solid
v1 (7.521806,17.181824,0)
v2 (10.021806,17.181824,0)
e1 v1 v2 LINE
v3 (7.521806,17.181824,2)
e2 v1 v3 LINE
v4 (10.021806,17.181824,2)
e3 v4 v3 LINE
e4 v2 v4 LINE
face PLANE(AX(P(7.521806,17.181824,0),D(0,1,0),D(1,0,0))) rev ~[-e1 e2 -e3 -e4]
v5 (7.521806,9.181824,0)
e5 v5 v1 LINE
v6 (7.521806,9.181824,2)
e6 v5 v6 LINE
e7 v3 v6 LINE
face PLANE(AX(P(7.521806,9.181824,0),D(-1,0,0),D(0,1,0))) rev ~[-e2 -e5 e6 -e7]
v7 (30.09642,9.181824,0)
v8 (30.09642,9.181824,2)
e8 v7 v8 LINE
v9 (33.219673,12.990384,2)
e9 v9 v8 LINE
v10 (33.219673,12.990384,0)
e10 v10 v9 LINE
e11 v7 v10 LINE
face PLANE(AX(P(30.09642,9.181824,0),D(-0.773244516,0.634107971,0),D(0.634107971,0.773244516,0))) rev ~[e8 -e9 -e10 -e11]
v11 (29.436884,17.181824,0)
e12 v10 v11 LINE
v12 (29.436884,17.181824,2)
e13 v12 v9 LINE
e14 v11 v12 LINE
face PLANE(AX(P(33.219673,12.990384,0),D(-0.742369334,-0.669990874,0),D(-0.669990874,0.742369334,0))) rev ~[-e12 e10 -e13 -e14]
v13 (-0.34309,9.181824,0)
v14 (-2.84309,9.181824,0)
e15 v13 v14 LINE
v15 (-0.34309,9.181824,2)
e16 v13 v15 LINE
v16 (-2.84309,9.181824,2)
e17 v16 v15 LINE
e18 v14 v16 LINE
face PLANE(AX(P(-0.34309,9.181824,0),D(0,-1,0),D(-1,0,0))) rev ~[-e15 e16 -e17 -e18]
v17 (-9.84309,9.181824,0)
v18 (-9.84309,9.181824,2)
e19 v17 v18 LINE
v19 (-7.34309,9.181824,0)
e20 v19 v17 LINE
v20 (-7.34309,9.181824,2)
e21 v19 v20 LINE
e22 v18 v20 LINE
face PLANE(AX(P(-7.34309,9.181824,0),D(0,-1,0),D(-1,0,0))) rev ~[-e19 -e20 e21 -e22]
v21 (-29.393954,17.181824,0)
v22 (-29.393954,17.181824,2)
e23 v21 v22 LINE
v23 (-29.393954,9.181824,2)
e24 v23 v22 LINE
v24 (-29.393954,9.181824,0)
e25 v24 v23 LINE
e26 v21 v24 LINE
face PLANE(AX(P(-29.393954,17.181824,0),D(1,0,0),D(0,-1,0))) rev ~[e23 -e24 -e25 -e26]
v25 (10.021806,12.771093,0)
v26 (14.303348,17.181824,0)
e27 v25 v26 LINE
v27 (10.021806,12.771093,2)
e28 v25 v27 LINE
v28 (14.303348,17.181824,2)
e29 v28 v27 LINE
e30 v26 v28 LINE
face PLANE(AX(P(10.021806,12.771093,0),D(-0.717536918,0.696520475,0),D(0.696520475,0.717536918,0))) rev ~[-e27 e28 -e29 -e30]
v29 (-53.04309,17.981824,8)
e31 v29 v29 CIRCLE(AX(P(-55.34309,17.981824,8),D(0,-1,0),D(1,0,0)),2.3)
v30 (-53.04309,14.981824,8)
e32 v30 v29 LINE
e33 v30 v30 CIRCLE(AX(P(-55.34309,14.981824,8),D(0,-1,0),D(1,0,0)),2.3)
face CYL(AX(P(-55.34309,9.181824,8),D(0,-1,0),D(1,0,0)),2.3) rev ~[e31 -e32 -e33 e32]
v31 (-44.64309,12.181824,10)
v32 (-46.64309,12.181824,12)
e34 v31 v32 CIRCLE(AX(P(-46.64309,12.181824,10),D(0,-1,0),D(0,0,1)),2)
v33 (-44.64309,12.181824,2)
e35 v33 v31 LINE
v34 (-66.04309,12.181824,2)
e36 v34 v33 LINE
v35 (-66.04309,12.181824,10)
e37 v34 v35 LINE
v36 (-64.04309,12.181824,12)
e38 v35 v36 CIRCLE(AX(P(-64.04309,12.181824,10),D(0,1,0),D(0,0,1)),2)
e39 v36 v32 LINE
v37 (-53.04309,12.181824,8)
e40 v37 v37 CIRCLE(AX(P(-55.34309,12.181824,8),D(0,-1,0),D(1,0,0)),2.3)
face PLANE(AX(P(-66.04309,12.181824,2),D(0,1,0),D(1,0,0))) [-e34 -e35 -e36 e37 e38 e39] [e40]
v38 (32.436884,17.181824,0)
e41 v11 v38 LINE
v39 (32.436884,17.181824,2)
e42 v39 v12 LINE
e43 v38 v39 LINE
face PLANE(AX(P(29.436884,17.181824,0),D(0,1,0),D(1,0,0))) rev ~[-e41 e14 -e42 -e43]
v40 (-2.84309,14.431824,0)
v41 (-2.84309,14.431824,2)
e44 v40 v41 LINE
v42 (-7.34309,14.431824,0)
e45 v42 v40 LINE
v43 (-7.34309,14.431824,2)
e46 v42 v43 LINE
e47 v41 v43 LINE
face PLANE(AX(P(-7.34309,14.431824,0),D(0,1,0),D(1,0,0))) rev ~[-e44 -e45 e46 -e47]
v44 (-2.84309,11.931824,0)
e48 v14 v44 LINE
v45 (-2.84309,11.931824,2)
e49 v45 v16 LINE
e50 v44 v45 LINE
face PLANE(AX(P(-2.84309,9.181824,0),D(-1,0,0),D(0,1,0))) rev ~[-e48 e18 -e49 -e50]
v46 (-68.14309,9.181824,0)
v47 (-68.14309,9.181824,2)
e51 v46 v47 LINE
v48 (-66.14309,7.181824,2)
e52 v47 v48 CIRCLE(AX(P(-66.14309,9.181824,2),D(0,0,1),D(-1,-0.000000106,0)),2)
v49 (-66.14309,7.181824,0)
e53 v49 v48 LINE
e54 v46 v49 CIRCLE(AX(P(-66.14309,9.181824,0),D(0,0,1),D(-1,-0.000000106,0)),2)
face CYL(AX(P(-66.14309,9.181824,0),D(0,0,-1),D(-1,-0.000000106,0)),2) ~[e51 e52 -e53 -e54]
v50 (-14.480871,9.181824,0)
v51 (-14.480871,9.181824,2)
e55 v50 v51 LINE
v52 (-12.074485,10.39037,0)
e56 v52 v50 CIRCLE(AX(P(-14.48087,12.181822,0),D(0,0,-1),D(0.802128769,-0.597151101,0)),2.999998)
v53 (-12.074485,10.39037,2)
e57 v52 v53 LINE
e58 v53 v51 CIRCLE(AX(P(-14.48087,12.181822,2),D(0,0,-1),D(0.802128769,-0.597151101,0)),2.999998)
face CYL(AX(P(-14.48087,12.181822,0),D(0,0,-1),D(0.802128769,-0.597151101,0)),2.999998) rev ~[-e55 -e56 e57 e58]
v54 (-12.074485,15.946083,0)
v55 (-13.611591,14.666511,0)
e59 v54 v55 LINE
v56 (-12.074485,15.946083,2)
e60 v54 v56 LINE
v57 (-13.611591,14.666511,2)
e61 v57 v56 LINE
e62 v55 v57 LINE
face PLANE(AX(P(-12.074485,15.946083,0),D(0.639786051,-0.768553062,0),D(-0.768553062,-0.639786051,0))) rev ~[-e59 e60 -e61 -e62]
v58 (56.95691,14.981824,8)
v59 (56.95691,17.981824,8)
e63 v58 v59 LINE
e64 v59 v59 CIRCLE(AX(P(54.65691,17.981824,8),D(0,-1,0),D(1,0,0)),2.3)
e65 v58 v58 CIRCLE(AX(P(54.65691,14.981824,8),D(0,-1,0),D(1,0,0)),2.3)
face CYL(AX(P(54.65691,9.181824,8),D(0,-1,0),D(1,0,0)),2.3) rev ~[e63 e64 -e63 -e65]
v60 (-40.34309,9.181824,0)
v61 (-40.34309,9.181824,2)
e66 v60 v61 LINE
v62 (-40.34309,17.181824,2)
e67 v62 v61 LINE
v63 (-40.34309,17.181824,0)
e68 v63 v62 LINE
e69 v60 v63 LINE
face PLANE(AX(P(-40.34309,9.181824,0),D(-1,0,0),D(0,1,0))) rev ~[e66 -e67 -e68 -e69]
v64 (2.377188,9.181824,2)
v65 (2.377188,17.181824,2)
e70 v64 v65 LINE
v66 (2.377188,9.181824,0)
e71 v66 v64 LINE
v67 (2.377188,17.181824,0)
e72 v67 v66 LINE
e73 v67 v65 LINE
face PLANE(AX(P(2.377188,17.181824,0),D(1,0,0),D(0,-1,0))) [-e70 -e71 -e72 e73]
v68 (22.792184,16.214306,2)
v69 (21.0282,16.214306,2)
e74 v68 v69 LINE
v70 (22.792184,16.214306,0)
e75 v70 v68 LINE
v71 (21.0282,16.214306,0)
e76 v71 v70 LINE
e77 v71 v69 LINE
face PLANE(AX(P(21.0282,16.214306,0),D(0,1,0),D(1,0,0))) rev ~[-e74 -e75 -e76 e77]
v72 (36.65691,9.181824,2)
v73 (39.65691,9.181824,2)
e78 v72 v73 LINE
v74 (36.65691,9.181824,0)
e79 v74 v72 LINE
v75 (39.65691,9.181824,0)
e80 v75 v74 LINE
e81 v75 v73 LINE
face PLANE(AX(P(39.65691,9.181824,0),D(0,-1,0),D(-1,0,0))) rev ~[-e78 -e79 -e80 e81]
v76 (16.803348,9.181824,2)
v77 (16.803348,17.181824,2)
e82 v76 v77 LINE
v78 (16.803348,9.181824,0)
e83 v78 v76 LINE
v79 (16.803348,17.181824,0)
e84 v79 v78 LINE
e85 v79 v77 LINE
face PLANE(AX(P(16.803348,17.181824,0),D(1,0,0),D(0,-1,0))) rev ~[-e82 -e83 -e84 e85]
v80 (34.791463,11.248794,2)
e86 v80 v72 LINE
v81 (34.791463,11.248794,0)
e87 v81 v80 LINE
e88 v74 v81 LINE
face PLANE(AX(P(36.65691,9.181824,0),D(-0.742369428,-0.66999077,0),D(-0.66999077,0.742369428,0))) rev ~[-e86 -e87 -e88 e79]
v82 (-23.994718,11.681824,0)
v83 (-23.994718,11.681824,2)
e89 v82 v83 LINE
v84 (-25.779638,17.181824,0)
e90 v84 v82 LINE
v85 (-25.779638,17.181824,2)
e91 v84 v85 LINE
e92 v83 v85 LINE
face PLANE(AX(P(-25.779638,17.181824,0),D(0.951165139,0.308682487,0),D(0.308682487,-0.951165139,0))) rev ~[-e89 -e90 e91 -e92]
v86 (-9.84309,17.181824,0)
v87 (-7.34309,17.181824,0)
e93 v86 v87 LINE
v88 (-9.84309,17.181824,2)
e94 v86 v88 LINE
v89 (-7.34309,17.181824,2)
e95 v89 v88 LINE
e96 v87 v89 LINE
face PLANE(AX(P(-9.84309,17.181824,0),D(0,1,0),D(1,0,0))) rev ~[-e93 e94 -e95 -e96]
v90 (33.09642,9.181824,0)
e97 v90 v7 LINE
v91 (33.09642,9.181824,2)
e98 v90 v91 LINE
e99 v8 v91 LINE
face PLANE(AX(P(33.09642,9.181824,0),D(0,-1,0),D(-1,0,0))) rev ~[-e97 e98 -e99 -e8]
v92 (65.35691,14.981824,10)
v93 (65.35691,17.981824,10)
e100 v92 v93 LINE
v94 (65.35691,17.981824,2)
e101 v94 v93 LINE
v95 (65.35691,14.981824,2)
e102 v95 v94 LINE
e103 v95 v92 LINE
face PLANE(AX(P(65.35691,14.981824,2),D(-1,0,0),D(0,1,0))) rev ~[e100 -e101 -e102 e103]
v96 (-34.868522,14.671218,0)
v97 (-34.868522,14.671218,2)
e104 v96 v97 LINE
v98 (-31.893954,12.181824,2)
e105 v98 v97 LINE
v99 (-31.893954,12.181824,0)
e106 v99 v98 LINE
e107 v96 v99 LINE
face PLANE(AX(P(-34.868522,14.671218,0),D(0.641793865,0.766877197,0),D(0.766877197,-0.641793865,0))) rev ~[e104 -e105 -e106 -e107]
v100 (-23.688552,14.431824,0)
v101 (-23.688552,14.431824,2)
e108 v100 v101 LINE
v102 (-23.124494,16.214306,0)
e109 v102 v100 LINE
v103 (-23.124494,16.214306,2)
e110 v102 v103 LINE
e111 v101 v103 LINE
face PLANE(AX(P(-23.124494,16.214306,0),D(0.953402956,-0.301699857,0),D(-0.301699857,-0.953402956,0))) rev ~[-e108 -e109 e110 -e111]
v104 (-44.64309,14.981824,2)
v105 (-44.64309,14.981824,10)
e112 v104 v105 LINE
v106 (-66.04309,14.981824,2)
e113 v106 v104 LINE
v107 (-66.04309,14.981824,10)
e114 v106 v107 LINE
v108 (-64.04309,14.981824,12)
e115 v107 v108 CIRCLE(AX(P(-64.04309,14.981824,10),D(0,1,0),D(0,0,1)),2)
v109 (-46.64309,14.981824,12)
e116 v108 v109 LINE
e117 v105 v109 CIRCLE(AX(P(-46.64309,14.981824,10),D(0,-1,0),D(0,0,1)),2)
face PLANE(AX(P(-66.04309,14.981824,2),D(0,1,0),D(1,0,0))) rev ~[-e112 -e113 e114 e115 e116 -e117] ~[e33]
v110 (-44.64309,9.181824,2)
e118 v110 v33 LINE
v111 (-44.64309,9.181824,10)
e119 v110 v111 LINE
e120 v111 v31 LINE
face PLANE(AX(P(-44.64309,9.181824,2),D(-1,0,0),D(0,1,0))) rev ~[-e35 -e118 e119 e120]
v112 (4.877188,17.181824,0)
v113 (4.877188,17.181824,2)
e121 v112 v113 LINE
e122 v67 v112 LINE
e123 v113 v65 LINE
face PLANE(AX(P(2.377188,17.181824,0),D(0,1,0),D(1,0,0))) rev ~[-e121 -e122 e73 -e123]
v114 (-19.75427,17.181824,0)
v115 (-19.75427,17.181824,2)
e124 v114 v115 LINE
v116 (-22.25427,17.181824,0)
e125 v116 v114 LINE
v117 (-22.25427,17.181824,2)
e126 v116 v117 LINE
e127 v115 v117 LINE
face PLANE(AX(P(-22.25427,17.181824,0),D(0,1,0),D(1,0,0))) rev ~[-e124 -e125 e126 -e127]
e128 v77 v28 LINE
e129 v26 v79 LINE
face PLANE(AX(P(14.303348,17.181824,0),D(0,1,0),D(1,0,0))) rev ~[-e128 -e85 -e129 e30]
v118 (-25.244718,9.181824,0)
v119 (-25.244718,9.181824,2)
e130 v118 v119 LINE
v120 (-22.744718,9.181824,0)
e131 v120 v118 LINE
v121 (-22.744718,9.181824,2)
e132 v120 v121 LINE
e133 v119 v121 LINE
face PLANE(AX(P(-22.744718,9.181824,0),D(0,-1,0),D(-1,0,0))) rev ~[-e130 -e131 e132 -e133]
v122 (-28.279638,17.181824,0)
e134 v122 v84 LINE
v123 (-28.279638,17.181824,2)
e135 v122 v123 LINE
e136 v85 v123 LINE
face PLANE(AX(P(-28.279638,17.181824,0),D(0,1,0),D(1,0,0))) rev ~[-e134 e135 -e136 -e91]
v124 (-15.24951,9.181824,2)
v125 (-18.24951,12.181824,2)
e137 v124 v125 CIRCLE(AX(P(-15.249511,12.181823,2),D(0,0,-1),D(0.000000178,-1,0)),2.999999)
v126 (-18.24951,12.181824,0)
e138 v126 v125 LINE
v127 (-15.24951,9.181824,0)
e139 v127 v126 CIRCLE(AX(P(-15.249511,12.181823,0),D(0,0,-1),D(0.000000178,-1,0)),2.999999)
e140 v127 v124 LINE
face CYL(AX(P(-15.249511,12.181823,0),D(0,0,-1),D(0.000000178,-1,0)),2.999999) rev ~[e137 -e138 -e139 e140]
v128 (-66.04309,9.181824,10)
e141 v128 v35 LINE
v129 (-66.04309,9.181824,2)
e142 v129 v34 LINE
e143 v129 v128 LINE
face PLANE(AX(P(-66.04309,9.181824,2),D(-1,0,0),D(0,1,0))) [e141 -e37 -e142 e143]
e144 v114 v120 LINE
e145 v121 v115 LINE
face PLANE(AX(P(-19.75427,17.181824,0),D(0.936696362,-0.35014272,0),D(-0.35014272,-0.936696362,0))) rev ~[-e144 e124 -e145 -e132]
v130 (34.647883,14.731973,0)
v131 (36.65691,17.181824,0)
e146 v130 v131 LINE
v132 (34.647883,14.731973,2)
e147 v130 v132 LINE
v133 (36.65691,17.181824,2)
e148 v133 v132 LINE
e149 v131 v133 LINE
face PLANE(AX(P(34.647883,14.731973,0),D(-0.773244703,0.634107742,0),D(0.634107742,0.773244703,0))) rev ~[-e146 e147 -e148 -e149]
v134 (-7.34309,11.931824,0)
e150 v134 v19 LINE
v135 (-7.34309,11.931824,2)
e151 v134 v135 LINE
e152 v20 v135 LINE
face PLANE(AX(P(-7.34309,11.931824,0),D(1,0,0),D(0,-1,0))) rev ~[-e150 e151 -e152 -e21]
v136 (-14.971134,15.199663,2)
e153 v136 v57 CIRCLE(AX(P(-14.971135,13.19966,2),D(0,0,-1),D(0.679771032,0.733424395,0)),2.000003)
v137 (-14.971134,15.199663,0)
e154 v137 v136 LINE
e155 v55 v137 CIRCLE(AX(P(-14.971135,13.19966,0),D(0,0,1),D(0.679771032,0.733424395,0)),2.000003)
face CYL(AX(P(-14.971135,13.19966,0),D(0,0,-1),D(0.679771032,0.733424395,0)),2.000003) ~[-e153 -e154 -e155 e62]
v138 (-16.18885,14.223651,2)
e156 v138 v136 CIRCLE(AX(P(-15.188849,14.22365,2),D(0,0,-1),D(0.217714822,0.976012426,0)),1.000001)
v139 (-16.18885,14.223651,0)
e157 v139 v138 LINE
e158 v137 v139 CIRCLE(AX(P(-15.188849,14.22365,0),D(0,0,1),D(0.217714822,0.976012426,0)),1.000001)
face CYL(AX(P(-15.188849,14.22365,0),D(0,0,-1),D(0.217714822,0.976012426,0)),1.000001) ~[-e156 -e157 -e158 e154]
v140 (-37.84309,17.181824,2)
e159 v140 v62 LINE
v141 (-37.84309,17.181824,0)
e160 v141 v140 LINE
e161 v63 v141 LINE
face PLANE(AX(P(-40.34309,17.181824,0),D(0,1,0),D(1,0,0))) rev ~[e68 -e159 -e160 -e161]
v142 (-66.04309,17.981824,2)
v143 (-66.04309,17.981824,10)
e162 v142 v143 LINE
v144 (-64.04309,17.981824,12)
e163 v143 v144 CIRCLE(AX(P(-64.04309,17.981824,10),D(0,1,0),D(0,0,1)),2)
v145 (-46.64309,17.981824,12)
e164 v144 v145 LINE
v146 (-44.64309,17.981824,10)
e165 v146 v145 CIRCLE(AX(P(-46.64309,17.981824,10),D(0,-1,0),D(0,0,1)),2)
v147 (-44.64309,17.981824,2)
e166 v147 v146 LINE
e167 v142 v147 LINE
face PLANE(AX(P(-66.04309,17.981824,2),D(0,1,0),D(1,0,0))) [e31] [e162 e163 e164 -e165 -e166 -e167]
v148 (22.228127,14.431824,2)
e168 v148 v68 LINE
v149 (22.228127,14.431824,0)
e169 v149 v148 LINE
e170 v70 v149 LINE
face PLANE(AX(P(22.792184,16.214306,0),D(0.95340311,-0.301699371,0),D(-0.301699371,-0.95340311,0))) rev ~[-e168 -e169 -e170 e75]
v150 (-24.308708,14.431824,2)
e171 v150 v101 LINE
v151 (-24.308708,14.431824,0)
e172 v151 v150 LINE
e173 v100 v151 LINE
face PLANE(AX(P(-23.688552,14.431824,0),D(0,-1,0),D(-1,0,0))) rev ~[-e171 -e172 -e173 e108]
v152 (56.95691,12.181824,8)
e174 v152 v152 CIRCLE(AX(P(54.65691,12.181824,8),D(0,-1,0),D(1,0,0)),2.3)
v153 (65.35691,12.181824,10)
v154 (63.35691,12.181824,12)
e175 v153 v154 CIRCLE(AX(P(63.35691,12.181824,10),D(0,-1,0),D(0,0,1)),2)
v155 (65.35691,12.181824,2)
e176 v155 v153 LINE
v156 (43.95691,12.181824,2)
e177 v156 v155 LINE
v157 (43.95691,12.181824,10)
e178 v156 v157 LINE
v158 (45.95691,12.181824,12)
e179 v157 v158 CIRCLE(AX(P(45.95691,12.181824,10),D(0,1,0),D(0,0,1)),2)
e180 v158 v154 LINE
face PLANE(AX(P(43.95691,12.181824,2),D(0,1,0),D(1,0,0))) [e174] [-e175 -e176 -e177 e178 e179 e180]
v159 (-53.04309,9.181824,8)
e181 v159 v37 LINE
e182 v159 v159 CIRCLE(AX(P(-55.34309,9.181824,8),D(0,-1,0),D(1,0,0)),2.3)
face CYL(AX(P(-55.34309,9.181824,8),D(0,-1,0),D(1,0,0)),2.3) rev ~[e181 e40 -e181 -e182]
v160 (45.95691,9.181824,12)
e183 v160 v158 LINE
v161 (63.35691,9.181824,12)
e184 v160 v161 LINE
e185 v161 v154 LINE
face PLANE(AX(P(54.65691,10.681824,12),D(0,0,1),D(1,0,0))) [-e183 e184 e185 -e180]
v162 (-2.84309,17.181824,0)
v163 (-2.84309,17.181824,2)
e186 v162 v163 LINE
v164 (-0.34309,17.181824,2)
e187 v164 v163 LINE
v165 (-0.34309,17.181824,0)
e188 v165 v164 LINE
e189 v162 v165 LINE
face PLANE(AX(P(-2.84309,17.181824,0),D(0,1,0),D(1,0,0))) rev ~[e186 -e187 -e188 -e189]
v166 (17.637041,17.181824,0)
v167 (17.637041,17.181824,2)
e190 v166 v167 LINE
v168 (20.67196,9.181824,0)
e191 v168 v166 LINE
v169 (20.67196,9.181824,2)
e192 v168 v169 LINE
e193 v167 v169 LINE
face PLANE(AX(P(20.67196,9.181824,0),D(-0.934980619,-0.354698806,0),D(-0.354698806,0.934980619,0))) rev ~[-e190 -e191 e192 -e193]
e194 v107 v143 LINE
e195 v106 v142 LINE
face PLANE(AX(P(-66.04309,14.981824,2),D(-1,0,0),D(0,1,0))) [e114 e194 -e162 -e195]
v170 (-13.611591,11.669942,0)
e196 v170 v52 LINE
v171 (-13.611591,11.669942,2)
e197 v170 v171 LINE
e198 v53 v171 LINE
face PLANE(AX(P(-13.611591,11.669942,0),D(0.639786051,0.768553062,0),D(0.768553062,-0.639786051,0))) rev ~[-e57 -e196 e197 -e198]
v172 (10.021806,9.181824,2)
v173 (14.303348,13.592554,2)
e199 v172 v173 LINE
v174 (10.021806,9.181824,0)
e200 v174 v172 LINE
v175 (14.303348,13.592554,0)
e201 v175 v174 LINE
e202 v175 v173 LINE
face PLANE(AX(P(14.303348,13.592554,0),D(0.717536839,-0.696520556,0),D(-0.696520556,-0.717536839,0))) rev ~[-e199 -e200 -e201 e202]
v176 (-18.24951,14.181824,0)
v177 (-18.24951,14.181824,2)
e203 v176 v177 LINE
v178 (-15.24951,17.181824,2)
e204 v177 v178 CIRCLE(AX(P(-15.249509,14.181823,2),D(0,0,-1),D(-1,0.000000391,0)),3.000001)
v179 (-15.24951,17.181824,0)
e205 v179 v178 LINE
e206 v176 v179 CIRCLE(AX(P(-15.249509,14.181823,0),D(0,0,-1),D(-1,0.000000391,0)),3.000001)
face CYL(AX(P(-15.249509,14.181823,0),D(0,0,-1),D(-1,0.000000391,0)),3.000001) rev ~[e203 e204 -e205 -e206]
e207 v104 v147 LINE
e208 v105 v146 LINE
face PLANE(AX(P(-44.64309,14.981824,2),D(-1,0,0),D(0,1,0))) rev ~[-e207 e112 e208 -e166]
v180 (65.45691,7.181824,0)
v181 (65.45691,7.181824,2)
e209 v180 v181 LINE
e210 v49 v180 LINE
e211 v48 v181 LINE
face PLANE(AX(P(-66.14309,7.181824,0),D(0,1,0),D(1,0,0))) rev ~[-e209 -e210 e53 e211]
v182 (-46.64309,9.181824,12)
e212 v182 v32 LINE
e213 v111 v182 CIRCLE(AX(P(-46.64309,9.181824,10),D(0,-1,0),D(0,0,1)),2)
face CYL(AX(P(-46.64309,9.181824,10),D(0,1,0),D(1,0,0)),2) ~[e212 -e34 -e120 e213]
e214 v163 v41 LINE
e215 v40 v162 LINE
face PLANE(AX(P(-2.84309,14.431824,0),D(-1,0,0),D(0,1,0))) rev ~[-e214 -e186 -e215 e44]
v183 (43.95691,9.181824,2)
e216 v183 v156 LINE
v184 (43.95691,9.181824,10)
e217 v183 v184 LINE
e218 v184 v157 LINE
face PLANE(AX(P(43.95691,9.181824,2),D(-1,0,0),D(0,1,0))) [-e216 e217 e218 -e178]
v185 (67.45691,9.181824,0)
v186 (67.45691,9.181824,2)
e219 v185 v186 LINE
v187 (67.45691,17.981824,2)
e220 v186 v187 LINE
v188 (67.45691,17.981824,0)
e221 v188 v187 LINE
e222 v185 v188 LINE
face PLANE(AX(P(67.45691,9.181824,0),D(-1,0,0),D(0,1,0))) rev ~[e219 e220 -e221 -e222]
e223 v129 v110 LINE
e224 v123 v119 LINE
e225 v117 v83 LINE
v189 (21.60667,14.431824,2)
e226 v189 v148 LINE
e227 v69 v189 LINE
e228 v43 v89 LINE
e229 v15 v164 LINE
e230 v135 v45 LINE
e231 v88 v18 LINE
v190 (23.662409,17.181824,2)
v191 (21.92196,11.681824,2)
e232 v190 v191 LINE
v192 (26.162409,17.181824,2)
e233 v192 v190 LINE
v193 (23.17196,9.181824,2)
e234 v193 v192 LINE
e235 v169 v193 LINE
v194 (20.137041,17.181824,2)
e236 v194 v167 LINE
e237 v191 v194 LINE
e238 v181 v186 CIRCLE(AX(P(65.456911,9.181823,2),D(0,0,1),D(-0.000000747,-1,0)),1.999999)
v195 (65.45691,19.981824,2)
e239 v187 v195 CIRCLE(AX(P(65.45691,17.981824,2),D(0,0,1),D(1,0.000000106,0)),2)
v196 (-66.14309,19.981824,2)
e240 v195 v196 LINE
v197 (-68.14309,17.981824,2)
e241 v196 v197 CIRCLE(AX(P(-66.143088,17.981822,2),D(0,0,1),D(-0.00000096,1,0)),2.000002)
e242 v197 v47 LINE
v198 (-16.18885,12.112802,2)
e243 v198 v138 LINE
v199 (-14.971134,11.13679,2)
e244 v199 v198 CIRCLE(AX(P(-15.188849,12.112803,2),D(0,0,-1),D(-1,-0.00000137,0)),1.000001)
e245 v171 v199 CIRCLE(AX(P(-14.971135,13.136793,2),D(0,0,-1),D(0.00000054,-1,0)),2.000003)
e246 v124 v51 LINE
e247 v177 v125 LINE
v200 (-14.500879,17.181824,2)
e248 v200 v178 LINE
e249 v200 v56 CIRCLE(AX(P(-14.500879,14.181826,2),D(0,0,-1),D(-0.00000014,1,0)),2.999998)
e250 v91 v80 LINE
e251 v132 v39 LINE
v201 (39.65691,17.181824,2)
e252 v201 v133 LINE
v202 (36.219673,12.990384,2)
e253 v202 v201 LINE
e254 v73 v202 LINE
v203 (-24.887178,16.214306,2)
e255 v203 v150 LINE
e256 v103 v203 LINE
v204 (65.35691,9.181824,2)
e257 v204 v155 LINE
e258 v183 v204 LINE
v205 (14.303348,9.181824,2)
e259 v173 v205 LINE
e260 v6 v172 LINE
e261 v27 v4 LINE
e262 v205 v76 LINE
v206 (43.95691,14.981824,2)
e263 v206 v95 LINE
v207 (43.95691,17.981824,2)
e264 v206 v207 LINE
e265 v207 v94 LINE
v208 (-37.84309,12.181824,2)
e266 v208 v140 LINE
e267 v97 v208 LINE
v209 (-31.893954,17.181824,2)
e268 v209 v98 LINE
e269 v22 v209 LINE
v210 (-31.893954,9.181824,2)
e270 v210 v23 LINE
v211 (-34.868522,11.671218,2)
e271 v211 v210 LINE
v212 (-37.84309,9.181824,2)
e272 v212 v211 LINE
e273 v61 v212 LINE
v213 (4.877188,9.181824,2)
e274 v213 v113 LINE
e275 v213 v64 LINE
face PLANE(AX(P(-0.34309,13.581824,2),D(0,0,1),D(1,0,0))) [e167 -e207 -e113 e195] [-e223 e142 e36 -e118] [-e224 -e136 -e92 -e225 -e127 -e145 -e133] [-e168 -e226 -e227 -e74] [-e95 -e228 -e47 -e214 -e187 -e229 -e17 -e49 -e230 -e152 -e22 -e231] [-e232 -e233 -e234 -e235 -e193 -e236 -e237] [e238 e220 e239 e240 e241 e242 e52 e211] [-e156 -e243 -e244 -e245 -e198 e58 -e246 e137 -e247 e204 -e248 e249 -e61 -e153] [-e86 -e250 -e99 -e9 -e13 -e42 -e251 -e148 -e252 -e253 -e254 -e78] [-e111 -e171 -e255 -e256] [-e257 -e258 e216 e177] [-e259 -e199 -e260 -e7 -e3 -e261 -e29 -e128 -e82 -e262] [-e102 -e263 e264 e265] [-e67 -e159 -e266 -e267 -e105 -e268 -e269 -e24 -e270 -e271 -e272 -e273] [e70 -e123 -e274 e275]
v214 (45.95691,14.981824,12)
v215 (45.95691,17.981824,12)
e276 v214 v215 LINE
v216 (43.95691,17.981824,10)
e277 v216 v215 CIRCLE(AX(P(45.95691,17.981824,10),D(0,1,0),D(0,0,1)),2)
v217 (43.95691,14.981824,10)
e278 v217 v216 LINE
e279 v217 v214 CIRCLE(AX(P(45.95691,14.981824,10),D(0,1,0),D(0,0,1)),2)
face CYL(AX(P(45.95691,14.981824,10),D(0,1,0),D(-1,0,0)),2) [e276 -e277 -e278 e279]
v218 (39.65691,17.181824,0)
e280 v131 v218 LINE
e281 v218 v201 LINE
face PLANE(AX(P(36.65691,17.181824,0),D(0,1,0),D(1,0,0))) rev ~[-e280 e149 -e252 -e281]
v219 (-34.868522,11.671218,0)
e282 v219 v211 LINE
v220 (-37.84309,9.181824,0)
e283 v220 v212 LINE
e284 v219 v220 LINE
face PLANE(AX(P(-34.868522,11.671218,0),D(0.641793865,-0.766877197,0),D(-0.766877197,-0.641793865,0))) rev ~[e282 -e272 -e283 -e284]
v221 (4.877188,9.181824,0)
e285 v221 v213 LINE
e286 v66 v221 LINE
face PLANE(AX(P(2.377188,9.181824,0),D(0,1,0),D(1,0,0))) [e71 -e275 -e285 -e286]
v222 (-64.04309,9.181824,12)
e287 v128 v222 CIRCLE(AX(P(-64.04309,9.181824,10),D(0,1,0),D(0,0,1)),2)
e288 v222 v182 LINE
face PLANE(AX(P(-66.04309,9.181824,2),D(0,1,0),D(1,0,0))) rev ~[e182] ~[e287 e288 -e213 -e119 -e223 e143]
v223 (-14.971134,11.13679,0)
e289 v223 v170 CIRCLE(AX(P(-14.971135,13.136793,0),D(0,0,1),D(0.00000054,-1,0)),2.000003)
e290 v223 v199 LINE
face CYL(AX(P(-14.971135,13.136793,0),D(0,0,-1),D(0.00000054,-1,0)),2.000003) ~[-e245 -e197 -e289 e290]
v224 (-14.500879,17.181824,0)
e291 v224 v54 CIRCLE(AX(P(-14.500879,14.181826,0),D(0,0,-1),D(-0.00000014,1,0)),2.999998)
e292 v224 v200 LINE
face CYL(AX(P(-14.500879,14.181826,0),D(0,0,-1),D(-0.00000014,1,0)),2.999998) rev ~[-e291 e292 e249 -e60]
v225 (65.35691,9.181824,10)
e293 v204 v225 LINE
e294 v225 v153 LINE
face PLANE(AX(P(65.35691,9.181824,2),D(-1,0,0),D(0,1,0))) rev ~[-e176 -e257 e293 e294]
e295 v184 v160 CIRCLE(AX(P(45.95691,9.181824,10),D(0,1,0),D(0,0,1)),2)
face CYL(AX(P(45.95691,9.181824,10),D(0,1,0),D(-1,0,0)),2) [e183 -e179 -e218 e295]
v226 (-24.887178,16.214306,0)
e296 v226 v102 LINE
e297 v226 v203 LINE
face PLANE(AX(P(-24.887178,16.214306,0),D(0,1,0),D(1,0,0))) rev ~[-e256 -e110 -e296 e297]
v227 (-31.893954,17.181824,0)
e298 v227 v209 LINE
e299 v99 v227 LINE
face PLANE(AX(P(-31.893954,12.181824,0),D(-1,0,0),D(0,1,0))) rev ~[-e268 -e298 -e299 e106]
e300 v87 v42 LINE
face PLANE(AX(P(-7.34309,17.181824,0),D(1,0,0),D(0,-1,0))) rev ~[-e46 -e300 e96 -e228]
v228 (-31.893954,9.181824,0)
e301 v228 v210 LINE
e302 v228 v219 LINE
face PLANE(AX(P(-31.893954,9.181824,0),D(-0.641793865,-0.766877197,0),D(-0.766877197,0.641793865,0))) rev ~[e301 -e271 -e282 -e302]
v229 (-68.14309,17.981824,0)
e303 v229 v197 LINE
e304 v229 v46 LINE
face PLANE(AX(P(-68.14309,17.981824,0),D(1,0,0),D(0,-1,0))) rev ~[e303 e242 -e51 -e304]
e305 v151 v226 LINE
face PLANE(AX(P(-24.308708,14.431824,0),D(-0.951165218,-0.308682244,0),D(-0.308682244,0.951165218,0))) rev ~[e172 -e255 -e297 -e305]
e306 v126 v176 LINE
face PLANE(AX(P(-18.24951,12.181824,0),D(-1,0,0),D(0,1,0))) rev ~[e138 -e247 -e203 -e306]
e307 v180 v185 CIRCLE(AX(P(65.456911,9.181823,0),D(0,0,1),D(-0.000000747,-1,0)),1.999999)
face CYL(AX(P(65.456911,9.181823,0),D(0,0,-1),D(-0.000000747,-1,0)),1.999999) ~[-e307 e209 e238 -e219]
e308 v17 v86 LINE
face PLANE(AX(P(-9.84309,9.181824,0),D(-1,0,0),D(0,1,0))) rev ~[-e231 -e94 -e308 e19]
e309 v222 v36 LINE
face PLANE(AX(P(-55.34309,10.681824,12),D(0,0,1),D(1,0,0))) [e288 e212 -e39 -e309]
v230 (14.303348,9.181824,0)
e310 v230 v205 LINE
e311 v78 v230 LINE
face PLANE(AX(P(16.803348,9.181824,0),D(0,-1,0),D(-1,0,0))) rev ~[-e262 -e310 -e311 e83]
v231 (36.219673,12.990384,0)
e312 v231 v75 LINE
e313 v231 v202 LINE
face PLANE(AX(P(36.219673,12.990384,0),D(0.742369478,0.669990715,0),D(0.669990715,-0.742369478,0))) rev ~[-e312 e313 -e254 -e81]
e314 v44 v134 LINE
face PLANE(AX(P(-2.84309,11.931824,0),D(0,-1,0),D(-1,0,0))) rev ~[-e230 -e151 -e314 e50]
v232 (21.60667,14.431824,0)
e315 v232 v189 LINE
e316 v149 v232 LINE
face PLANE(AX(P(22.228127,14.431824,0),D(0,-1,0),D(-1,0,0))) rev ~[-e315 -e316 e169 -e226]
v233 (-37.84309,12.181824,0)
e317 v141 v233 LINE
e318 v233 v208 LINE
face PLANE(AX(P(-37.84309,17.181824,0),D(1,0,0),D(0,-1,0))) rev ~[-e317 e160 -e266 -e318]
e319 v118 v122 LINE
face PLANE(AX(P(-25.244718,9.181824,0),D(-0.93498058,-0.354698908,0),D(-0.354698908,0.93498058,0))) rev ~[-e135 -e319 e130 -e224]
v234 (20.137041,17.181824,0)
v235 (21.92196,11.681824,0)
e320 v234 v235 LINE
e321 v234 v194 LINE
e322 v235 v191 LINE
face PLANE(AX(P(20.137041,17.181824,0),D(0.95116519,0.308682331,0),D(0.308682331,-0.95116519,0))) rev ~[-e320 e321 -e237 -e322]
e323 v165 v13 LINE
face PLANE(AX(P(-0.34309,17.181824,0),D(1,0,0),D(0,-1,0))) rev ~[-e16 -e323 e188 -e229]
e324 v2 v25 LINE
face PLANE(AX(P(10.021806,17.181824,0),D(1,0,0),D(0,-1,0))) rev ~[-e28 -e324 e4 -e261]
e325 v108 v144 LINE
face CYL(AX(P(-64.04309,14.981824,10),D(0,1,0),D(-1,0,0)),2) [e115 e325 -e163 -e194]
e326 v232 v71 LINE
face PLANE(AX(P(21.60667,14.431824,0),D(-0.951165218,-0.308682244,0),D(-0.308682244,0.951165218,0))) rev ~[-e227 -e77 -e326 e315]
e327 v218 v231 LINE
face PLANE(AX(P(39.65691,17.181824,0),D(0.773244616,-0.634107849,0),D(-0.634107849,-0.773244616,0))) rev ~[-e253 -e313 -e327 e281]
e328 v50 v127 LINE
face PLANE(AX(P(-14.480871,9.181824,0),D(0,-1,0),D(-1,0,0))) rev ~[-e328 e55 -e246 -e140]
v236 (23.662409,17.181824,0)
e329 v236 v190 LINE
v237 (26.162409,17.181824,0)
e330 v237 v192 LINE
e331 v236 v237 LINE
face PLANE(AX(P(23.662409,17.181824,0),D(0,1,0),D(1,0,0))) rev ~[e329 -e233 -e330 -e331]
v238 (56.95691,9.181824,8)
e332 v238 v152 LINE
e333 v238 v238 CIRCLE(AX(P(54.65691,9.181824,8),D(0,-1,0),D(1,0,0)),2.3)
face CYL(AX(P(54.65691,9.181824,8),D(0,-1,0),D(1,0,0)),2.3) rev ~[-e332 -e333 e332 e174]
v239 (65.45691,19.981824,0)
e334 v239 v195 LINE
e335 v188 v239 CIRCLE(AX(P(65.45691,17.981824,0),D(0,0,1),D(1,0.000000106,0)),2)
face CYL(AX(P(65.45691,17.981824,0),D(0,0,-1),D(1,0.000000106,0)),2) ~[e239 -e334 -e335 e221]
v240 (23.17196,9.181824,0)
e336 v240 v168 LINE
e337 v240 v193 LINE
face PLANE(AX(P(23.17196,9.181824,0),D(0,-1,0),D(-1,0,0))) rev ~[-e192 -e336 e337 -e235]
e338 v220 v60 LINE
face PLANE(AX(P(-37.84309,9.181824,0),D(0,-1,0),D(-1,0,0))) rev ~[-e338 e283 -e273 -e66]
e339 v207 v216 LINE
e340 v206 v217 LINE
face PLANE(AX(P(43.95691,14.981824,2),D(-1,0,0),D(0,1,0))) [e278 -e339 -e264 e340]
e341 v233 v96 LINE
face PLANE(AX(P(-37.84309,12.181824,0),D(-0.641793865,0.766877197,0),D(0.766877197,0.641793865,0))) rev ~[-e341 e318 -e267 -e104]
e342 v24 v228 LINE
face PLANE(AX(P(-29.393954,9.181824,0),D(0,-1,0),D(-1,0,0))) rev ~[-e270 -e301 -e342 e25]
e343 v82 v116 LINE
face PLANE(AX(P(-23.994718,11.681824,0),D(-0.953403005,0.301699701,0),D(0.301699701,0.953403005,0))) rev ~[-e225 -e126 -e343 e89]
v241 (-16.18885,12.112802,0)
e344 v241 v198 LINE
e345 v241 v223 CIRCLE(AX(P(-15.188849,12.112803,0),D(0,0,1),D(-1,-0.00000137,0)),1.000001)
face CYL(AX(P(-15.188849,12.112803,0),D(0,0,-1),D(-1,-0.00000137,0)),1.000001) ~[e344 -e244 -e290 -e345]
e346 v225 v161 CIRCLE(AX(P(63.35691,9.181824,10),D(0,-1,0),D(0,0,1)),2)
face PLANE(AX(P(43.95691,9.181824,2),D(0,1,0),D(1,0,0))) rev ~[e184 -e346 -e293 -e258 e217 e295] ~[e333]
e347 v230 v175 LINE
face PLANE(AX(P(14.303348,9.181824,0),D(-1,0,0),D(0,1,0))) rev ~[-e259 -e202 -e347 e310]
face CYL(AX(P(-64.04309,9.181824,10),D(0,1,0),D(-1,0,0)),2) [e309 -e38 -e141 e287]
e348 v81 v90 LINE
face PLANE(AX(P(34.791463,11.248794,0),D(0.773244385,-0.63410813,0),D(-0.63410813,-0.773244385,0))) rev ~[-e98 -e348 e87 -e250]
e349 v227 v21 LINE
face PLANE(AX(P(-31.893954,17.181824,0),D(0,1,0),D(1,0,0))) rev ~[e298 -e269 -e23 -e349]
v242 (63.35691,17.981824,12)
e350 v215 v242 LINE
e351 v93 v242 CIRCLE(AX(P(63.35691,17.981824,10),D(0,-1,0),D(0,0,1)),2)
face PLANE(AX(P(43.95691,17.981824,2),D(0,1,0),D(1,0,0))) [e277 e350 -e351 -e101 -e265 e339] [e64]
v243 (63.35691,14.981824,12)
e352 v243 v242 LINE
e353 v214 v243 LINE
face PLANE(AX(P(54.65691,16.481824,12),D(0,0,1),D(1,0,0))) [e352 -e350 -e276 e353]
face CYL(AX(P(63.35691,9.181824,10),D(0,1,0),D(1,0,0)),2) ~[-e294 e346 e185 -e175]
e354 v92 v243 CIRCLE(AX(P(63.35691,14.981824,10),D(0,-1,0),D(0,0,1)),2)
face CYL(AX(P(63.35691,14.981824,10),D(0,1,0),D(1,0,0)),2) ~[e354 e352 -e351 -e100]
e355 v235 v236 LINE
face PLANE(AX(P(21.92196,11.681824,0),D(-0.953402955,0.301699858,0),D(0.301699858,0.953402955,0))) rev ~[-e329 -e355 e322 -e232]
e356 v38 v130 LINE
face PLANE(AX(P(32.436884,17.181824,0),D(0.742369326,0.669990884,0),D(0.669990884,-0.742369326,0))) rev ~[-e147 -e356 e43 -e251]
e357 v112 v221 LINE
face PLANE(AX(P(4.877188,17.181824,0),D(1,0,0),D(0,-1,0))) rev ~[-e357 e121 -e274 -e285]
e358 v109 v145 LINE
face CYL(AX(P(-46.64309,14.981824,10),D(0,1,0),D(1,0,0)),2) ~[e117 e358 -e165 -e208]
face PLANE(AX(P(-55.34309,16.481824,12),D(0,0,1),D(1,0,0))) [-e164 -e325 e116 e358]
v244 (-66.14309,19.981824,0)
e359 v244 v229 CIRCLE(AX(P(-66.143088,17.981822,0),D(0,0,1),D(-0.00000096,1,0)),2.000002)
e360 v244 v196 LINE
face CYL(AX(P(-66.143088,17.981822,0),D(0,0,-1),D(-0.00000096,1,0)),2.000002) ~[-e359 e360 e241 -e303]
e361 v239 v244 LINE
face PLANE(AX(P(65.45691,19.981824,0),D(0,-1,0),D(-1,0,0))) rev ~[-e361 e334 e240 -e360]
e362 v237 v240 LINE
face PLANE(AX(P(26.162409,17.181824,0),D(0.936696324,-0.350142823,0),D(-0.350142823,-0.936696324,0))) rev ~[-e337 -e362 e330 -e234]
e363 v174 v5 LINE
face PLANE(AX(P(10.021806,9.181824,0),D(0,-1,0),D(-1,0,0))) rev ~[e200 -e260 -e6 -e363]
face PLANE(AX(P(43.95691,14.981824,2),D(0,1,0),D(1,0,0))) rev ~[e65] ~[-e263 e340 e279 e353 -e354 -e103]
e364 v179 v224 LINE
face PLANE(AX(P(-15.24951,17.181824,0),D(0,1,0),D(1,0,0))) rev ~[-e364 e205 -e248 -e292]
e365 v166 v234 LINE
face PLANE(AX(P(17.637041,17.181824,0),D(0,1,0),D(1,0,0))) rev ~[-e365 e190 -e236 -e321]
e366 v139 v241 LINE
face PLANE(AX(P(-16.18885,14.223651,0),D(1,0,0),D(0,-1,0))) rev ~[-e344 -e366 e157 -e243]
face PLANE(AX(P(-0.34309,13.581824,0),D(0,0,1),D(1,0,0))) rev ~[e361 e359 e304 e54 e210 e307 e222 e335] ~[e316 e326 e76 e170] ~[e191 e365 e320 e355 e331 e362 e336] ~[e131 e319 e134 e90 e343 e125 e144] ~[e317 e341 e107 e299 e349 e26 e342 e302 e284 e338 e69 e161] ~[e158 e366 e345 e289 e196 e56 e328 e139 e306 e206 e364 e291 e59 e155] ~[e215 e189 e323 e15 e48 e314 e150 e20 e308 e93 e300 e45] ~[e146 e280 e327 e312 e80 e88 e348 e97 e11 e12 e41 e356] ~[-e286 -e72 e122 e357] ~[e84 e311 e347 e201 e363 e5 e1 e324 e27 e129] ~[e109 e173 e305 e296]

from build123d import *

# Parameters (mm, degrees)
F1_DEPTH = 2
F2_W     = 21.4
F2_H     = 3
F3_DEPTH = 10
F4_R     = 2
F5_R     = 2.3
F6_DEPTH = 25
F7_W     = 2.5
F7_H     = 8
F8_DEPTH = 25


with BuildPart() as f1:
    # F0 (on Top) → F1 (new body)
    with BuildSketch(Plane.XY):
        with BuildLine():
            Line((65.45691, 19.981824), (-66.14309, 19.981824))
            ThreePointArc((-66.14309, 19.981824), (-67.557303, 19.396037), (-68.14309, 17.981824))
            Line((-68.14309, 17.981824), (-68.14309, 9.181824))
            ThreePointArc((-68.14309, 9.181824), (-67.557303, 7.76761), (-66.14309, 7.181824))
            Line((-66.14309, 7.181824), (65.45691, 7.181824))
            ThreePointArc((65.45691, 7.181824), (66.871124, 7.76761), (67.45691, 9.181824))
            Line((67.45691, 9.181824), (67.45691, 17.981824))
            ThreePointArc((67.45691, 17.981824), (66.871124, 19.396037), (65.45691, 19.981824))
        make_face()
    extrude(amount=F1_DEPTH)

    # F2 (on face) → F3 (join)
    with BuildSketch(Plane.XY.offset(2)):
        with Locations((-55.34309, 10.681824)):
            Rectangle(F2_W, F2_H)
        with Locations((-55.34309, 16.481824)):
            Rectangle(F2_W, F2_H)
        with Locations((54.65691, 16.481824)):
            Rectangle(F2_W, F2_H)
        with Locations((54.65691, 10.681824)):
            Rectangle(F2_W, F2_H)
    extrude(amount=F3_DEPTH)

    # F4
    f4_edges = [f1.edges().sort_by_distance(p)[0] for p in [
        (-66.04309, 16.481824, 12),
        (-66.04309, 10.681824, 12),
        (-44.64309, 16.481824, 12),
        (-44.64309, 10.681824, 12),
        (43.95691, 16.481824, 12),
        (65.35691, 16.481824, 12),
        (65.35691, 10.681824, 12),
        (43.95691, 10.681824, 12),
    ]]
    fillet(f4_edges, radius=F4_R)

    # F5 (on face) → F6 (cut)
    with BuildSketch(Plane.XZ.offset(-9.181824)):
        with Locations((-55.34309, 8)):
            Circle(F5_R)
        with Locations((54.65691, 8)):
            Circle(F5_R)
    extrude(amount=-F6_DEPTH, mode=Mode.SUBTRACT)

    # F7 (on face) → F8 (cut)
    with BuildSketch(Plane(origin=(0, 0, 0), x_dir=(1, 0, 0), z_dir=(0, 0, -1))):
        Polygon((-37.84309, -9.181824), (-40.34309, -9.181824), (-40.34309, -17.181824), (-37.84309, -17.181824), (-37.84309, -12.181824), (-34.868522, -14.671218), (-31.893954, -12.181824), (-31.893954, -17.181824), (-29.393954, -17.181824), (-29.393954, -9.181824), (-31.893954, -9.181824), (-34.868522, -11.671218), align=None)
        Polygon((-25.244718, -9.181824), (-28.279638, -17.181824), (-25.779638, -17.181824), (-23.994718, -11.681824), (-22.25427, -17.181824), (-19.75427, -17.181824), (-22.744718, -9.181824), align=None)
        Polygon((-24.308708, -14.431824), (-24.887178, -16.214306), (-23.124494, -16.214306), (-23.688552, -14.431824), align=None)
        with BuildLine():
            ThreePointArc((-15.24951, -9.181824), (-17.37083, -10.060503), (-18.24951, -12.181824))
            Line((-18.24951, -12.181824), (-18.24951, -14.181824))
            ThreePointArc((-18.24951, -14.181824), (-17.37083, -16.303144), (-15.24951, -17.181824))
            Line((-15.24951, -17.181824), (-14.500879, -17.181824))
            ThreePointArc((-14.500879, -17.181824), (-13.139405, -16.855097), (-12.074485, -15.946083))
            Line((-12.074485, -15.946083), (-13.611591, -14.666511))
            ThreePointArc((-13.611591, -14.666511), (-14.240961, -15.06161), (-14.971134, -15.199663))
            ThreePointArc((-14.971134, -15.199663), (-15.814263, -15.003944), (-16.18885, -14.223651))
            Line((-16.18885, -14.223651), (-16.18885, -12.112802))
            ThreePointArc((-16.18885, -12.112802), (-15.814263, -11.332509), (-14.971134, -11.13679))
            ThreePointArc((-14.971134, -11.13679), (-14.240961, -11.274843), (-13.611591, -11.669942))
            Line((-13.611591, -11.669942), (-12.074485, -10.39037))
            ThreePointArc((-12.074485, -10.39037), (-13.134461, -9.500932), (-14.480871, -9.181824))
            Line((-14.480871, -9.181824), (-15.24951, -9.181824))
        make_face()
        Polygon((-7.34309, -9.181824), (-9.84309, -9.181824), (-9.84309, -17.181824), (-7.34309, -17.181824), (-7.34309, -14.431824), (-2.84309, -14.431824), (-2.84309, -17.181824), (-0.34309, -17.181824), (-0.34309, -9.181824), (-2.84309, -9.181824), (-2.84309, -11.931824), (-7.34309, -11.931824), align=None)
        with Locations((3.627188, -13.181824)):
            Rectangle(F7_W, F7_H)
        Polygon((10.021806, -9.181824), (7.521806, -9.181824), (7.521806, -17.181824), (10.021806, -17.181824), (10.021806, -12.771093), (14.303348, -17.181824), (16.803348, -17.181824), (16.803348, -9.181824), (14.303348, -9.181824), (14.303348, -13.592554), align=None)
        Polygon((20.67196, -9.181824), (17.637041, -17.181824), (20.137041, -17.181824), (21.92196, -11.681824), (23.662409, -17.181824), (26.162409, -17.181824), (23.17196, -9.181824), align=None)
        Polygon((21.0282, -16.214306), (22.792184, -16.214306), (22.228127, -14.431824), (21.60667, -14.431824), align=None)
        Polygon((33.219673, -12.990384), (29.436884, -17.181824), (32.436884, -17.181824), (34.647883, -14.731973), (36.65691, -17.181824), (39.65691, -17.181824), (36.219673, -12.990384), (39.65691, -9.181824), (36.65691, -9.181824), (34.791463, -11.248794), (33.09642, -9.181824), (30.09642, -9.181824), align=None)
    extrude(amount=-F8_DEPTH, mode=Mode.SUBTRACT)


solid = f1.part
